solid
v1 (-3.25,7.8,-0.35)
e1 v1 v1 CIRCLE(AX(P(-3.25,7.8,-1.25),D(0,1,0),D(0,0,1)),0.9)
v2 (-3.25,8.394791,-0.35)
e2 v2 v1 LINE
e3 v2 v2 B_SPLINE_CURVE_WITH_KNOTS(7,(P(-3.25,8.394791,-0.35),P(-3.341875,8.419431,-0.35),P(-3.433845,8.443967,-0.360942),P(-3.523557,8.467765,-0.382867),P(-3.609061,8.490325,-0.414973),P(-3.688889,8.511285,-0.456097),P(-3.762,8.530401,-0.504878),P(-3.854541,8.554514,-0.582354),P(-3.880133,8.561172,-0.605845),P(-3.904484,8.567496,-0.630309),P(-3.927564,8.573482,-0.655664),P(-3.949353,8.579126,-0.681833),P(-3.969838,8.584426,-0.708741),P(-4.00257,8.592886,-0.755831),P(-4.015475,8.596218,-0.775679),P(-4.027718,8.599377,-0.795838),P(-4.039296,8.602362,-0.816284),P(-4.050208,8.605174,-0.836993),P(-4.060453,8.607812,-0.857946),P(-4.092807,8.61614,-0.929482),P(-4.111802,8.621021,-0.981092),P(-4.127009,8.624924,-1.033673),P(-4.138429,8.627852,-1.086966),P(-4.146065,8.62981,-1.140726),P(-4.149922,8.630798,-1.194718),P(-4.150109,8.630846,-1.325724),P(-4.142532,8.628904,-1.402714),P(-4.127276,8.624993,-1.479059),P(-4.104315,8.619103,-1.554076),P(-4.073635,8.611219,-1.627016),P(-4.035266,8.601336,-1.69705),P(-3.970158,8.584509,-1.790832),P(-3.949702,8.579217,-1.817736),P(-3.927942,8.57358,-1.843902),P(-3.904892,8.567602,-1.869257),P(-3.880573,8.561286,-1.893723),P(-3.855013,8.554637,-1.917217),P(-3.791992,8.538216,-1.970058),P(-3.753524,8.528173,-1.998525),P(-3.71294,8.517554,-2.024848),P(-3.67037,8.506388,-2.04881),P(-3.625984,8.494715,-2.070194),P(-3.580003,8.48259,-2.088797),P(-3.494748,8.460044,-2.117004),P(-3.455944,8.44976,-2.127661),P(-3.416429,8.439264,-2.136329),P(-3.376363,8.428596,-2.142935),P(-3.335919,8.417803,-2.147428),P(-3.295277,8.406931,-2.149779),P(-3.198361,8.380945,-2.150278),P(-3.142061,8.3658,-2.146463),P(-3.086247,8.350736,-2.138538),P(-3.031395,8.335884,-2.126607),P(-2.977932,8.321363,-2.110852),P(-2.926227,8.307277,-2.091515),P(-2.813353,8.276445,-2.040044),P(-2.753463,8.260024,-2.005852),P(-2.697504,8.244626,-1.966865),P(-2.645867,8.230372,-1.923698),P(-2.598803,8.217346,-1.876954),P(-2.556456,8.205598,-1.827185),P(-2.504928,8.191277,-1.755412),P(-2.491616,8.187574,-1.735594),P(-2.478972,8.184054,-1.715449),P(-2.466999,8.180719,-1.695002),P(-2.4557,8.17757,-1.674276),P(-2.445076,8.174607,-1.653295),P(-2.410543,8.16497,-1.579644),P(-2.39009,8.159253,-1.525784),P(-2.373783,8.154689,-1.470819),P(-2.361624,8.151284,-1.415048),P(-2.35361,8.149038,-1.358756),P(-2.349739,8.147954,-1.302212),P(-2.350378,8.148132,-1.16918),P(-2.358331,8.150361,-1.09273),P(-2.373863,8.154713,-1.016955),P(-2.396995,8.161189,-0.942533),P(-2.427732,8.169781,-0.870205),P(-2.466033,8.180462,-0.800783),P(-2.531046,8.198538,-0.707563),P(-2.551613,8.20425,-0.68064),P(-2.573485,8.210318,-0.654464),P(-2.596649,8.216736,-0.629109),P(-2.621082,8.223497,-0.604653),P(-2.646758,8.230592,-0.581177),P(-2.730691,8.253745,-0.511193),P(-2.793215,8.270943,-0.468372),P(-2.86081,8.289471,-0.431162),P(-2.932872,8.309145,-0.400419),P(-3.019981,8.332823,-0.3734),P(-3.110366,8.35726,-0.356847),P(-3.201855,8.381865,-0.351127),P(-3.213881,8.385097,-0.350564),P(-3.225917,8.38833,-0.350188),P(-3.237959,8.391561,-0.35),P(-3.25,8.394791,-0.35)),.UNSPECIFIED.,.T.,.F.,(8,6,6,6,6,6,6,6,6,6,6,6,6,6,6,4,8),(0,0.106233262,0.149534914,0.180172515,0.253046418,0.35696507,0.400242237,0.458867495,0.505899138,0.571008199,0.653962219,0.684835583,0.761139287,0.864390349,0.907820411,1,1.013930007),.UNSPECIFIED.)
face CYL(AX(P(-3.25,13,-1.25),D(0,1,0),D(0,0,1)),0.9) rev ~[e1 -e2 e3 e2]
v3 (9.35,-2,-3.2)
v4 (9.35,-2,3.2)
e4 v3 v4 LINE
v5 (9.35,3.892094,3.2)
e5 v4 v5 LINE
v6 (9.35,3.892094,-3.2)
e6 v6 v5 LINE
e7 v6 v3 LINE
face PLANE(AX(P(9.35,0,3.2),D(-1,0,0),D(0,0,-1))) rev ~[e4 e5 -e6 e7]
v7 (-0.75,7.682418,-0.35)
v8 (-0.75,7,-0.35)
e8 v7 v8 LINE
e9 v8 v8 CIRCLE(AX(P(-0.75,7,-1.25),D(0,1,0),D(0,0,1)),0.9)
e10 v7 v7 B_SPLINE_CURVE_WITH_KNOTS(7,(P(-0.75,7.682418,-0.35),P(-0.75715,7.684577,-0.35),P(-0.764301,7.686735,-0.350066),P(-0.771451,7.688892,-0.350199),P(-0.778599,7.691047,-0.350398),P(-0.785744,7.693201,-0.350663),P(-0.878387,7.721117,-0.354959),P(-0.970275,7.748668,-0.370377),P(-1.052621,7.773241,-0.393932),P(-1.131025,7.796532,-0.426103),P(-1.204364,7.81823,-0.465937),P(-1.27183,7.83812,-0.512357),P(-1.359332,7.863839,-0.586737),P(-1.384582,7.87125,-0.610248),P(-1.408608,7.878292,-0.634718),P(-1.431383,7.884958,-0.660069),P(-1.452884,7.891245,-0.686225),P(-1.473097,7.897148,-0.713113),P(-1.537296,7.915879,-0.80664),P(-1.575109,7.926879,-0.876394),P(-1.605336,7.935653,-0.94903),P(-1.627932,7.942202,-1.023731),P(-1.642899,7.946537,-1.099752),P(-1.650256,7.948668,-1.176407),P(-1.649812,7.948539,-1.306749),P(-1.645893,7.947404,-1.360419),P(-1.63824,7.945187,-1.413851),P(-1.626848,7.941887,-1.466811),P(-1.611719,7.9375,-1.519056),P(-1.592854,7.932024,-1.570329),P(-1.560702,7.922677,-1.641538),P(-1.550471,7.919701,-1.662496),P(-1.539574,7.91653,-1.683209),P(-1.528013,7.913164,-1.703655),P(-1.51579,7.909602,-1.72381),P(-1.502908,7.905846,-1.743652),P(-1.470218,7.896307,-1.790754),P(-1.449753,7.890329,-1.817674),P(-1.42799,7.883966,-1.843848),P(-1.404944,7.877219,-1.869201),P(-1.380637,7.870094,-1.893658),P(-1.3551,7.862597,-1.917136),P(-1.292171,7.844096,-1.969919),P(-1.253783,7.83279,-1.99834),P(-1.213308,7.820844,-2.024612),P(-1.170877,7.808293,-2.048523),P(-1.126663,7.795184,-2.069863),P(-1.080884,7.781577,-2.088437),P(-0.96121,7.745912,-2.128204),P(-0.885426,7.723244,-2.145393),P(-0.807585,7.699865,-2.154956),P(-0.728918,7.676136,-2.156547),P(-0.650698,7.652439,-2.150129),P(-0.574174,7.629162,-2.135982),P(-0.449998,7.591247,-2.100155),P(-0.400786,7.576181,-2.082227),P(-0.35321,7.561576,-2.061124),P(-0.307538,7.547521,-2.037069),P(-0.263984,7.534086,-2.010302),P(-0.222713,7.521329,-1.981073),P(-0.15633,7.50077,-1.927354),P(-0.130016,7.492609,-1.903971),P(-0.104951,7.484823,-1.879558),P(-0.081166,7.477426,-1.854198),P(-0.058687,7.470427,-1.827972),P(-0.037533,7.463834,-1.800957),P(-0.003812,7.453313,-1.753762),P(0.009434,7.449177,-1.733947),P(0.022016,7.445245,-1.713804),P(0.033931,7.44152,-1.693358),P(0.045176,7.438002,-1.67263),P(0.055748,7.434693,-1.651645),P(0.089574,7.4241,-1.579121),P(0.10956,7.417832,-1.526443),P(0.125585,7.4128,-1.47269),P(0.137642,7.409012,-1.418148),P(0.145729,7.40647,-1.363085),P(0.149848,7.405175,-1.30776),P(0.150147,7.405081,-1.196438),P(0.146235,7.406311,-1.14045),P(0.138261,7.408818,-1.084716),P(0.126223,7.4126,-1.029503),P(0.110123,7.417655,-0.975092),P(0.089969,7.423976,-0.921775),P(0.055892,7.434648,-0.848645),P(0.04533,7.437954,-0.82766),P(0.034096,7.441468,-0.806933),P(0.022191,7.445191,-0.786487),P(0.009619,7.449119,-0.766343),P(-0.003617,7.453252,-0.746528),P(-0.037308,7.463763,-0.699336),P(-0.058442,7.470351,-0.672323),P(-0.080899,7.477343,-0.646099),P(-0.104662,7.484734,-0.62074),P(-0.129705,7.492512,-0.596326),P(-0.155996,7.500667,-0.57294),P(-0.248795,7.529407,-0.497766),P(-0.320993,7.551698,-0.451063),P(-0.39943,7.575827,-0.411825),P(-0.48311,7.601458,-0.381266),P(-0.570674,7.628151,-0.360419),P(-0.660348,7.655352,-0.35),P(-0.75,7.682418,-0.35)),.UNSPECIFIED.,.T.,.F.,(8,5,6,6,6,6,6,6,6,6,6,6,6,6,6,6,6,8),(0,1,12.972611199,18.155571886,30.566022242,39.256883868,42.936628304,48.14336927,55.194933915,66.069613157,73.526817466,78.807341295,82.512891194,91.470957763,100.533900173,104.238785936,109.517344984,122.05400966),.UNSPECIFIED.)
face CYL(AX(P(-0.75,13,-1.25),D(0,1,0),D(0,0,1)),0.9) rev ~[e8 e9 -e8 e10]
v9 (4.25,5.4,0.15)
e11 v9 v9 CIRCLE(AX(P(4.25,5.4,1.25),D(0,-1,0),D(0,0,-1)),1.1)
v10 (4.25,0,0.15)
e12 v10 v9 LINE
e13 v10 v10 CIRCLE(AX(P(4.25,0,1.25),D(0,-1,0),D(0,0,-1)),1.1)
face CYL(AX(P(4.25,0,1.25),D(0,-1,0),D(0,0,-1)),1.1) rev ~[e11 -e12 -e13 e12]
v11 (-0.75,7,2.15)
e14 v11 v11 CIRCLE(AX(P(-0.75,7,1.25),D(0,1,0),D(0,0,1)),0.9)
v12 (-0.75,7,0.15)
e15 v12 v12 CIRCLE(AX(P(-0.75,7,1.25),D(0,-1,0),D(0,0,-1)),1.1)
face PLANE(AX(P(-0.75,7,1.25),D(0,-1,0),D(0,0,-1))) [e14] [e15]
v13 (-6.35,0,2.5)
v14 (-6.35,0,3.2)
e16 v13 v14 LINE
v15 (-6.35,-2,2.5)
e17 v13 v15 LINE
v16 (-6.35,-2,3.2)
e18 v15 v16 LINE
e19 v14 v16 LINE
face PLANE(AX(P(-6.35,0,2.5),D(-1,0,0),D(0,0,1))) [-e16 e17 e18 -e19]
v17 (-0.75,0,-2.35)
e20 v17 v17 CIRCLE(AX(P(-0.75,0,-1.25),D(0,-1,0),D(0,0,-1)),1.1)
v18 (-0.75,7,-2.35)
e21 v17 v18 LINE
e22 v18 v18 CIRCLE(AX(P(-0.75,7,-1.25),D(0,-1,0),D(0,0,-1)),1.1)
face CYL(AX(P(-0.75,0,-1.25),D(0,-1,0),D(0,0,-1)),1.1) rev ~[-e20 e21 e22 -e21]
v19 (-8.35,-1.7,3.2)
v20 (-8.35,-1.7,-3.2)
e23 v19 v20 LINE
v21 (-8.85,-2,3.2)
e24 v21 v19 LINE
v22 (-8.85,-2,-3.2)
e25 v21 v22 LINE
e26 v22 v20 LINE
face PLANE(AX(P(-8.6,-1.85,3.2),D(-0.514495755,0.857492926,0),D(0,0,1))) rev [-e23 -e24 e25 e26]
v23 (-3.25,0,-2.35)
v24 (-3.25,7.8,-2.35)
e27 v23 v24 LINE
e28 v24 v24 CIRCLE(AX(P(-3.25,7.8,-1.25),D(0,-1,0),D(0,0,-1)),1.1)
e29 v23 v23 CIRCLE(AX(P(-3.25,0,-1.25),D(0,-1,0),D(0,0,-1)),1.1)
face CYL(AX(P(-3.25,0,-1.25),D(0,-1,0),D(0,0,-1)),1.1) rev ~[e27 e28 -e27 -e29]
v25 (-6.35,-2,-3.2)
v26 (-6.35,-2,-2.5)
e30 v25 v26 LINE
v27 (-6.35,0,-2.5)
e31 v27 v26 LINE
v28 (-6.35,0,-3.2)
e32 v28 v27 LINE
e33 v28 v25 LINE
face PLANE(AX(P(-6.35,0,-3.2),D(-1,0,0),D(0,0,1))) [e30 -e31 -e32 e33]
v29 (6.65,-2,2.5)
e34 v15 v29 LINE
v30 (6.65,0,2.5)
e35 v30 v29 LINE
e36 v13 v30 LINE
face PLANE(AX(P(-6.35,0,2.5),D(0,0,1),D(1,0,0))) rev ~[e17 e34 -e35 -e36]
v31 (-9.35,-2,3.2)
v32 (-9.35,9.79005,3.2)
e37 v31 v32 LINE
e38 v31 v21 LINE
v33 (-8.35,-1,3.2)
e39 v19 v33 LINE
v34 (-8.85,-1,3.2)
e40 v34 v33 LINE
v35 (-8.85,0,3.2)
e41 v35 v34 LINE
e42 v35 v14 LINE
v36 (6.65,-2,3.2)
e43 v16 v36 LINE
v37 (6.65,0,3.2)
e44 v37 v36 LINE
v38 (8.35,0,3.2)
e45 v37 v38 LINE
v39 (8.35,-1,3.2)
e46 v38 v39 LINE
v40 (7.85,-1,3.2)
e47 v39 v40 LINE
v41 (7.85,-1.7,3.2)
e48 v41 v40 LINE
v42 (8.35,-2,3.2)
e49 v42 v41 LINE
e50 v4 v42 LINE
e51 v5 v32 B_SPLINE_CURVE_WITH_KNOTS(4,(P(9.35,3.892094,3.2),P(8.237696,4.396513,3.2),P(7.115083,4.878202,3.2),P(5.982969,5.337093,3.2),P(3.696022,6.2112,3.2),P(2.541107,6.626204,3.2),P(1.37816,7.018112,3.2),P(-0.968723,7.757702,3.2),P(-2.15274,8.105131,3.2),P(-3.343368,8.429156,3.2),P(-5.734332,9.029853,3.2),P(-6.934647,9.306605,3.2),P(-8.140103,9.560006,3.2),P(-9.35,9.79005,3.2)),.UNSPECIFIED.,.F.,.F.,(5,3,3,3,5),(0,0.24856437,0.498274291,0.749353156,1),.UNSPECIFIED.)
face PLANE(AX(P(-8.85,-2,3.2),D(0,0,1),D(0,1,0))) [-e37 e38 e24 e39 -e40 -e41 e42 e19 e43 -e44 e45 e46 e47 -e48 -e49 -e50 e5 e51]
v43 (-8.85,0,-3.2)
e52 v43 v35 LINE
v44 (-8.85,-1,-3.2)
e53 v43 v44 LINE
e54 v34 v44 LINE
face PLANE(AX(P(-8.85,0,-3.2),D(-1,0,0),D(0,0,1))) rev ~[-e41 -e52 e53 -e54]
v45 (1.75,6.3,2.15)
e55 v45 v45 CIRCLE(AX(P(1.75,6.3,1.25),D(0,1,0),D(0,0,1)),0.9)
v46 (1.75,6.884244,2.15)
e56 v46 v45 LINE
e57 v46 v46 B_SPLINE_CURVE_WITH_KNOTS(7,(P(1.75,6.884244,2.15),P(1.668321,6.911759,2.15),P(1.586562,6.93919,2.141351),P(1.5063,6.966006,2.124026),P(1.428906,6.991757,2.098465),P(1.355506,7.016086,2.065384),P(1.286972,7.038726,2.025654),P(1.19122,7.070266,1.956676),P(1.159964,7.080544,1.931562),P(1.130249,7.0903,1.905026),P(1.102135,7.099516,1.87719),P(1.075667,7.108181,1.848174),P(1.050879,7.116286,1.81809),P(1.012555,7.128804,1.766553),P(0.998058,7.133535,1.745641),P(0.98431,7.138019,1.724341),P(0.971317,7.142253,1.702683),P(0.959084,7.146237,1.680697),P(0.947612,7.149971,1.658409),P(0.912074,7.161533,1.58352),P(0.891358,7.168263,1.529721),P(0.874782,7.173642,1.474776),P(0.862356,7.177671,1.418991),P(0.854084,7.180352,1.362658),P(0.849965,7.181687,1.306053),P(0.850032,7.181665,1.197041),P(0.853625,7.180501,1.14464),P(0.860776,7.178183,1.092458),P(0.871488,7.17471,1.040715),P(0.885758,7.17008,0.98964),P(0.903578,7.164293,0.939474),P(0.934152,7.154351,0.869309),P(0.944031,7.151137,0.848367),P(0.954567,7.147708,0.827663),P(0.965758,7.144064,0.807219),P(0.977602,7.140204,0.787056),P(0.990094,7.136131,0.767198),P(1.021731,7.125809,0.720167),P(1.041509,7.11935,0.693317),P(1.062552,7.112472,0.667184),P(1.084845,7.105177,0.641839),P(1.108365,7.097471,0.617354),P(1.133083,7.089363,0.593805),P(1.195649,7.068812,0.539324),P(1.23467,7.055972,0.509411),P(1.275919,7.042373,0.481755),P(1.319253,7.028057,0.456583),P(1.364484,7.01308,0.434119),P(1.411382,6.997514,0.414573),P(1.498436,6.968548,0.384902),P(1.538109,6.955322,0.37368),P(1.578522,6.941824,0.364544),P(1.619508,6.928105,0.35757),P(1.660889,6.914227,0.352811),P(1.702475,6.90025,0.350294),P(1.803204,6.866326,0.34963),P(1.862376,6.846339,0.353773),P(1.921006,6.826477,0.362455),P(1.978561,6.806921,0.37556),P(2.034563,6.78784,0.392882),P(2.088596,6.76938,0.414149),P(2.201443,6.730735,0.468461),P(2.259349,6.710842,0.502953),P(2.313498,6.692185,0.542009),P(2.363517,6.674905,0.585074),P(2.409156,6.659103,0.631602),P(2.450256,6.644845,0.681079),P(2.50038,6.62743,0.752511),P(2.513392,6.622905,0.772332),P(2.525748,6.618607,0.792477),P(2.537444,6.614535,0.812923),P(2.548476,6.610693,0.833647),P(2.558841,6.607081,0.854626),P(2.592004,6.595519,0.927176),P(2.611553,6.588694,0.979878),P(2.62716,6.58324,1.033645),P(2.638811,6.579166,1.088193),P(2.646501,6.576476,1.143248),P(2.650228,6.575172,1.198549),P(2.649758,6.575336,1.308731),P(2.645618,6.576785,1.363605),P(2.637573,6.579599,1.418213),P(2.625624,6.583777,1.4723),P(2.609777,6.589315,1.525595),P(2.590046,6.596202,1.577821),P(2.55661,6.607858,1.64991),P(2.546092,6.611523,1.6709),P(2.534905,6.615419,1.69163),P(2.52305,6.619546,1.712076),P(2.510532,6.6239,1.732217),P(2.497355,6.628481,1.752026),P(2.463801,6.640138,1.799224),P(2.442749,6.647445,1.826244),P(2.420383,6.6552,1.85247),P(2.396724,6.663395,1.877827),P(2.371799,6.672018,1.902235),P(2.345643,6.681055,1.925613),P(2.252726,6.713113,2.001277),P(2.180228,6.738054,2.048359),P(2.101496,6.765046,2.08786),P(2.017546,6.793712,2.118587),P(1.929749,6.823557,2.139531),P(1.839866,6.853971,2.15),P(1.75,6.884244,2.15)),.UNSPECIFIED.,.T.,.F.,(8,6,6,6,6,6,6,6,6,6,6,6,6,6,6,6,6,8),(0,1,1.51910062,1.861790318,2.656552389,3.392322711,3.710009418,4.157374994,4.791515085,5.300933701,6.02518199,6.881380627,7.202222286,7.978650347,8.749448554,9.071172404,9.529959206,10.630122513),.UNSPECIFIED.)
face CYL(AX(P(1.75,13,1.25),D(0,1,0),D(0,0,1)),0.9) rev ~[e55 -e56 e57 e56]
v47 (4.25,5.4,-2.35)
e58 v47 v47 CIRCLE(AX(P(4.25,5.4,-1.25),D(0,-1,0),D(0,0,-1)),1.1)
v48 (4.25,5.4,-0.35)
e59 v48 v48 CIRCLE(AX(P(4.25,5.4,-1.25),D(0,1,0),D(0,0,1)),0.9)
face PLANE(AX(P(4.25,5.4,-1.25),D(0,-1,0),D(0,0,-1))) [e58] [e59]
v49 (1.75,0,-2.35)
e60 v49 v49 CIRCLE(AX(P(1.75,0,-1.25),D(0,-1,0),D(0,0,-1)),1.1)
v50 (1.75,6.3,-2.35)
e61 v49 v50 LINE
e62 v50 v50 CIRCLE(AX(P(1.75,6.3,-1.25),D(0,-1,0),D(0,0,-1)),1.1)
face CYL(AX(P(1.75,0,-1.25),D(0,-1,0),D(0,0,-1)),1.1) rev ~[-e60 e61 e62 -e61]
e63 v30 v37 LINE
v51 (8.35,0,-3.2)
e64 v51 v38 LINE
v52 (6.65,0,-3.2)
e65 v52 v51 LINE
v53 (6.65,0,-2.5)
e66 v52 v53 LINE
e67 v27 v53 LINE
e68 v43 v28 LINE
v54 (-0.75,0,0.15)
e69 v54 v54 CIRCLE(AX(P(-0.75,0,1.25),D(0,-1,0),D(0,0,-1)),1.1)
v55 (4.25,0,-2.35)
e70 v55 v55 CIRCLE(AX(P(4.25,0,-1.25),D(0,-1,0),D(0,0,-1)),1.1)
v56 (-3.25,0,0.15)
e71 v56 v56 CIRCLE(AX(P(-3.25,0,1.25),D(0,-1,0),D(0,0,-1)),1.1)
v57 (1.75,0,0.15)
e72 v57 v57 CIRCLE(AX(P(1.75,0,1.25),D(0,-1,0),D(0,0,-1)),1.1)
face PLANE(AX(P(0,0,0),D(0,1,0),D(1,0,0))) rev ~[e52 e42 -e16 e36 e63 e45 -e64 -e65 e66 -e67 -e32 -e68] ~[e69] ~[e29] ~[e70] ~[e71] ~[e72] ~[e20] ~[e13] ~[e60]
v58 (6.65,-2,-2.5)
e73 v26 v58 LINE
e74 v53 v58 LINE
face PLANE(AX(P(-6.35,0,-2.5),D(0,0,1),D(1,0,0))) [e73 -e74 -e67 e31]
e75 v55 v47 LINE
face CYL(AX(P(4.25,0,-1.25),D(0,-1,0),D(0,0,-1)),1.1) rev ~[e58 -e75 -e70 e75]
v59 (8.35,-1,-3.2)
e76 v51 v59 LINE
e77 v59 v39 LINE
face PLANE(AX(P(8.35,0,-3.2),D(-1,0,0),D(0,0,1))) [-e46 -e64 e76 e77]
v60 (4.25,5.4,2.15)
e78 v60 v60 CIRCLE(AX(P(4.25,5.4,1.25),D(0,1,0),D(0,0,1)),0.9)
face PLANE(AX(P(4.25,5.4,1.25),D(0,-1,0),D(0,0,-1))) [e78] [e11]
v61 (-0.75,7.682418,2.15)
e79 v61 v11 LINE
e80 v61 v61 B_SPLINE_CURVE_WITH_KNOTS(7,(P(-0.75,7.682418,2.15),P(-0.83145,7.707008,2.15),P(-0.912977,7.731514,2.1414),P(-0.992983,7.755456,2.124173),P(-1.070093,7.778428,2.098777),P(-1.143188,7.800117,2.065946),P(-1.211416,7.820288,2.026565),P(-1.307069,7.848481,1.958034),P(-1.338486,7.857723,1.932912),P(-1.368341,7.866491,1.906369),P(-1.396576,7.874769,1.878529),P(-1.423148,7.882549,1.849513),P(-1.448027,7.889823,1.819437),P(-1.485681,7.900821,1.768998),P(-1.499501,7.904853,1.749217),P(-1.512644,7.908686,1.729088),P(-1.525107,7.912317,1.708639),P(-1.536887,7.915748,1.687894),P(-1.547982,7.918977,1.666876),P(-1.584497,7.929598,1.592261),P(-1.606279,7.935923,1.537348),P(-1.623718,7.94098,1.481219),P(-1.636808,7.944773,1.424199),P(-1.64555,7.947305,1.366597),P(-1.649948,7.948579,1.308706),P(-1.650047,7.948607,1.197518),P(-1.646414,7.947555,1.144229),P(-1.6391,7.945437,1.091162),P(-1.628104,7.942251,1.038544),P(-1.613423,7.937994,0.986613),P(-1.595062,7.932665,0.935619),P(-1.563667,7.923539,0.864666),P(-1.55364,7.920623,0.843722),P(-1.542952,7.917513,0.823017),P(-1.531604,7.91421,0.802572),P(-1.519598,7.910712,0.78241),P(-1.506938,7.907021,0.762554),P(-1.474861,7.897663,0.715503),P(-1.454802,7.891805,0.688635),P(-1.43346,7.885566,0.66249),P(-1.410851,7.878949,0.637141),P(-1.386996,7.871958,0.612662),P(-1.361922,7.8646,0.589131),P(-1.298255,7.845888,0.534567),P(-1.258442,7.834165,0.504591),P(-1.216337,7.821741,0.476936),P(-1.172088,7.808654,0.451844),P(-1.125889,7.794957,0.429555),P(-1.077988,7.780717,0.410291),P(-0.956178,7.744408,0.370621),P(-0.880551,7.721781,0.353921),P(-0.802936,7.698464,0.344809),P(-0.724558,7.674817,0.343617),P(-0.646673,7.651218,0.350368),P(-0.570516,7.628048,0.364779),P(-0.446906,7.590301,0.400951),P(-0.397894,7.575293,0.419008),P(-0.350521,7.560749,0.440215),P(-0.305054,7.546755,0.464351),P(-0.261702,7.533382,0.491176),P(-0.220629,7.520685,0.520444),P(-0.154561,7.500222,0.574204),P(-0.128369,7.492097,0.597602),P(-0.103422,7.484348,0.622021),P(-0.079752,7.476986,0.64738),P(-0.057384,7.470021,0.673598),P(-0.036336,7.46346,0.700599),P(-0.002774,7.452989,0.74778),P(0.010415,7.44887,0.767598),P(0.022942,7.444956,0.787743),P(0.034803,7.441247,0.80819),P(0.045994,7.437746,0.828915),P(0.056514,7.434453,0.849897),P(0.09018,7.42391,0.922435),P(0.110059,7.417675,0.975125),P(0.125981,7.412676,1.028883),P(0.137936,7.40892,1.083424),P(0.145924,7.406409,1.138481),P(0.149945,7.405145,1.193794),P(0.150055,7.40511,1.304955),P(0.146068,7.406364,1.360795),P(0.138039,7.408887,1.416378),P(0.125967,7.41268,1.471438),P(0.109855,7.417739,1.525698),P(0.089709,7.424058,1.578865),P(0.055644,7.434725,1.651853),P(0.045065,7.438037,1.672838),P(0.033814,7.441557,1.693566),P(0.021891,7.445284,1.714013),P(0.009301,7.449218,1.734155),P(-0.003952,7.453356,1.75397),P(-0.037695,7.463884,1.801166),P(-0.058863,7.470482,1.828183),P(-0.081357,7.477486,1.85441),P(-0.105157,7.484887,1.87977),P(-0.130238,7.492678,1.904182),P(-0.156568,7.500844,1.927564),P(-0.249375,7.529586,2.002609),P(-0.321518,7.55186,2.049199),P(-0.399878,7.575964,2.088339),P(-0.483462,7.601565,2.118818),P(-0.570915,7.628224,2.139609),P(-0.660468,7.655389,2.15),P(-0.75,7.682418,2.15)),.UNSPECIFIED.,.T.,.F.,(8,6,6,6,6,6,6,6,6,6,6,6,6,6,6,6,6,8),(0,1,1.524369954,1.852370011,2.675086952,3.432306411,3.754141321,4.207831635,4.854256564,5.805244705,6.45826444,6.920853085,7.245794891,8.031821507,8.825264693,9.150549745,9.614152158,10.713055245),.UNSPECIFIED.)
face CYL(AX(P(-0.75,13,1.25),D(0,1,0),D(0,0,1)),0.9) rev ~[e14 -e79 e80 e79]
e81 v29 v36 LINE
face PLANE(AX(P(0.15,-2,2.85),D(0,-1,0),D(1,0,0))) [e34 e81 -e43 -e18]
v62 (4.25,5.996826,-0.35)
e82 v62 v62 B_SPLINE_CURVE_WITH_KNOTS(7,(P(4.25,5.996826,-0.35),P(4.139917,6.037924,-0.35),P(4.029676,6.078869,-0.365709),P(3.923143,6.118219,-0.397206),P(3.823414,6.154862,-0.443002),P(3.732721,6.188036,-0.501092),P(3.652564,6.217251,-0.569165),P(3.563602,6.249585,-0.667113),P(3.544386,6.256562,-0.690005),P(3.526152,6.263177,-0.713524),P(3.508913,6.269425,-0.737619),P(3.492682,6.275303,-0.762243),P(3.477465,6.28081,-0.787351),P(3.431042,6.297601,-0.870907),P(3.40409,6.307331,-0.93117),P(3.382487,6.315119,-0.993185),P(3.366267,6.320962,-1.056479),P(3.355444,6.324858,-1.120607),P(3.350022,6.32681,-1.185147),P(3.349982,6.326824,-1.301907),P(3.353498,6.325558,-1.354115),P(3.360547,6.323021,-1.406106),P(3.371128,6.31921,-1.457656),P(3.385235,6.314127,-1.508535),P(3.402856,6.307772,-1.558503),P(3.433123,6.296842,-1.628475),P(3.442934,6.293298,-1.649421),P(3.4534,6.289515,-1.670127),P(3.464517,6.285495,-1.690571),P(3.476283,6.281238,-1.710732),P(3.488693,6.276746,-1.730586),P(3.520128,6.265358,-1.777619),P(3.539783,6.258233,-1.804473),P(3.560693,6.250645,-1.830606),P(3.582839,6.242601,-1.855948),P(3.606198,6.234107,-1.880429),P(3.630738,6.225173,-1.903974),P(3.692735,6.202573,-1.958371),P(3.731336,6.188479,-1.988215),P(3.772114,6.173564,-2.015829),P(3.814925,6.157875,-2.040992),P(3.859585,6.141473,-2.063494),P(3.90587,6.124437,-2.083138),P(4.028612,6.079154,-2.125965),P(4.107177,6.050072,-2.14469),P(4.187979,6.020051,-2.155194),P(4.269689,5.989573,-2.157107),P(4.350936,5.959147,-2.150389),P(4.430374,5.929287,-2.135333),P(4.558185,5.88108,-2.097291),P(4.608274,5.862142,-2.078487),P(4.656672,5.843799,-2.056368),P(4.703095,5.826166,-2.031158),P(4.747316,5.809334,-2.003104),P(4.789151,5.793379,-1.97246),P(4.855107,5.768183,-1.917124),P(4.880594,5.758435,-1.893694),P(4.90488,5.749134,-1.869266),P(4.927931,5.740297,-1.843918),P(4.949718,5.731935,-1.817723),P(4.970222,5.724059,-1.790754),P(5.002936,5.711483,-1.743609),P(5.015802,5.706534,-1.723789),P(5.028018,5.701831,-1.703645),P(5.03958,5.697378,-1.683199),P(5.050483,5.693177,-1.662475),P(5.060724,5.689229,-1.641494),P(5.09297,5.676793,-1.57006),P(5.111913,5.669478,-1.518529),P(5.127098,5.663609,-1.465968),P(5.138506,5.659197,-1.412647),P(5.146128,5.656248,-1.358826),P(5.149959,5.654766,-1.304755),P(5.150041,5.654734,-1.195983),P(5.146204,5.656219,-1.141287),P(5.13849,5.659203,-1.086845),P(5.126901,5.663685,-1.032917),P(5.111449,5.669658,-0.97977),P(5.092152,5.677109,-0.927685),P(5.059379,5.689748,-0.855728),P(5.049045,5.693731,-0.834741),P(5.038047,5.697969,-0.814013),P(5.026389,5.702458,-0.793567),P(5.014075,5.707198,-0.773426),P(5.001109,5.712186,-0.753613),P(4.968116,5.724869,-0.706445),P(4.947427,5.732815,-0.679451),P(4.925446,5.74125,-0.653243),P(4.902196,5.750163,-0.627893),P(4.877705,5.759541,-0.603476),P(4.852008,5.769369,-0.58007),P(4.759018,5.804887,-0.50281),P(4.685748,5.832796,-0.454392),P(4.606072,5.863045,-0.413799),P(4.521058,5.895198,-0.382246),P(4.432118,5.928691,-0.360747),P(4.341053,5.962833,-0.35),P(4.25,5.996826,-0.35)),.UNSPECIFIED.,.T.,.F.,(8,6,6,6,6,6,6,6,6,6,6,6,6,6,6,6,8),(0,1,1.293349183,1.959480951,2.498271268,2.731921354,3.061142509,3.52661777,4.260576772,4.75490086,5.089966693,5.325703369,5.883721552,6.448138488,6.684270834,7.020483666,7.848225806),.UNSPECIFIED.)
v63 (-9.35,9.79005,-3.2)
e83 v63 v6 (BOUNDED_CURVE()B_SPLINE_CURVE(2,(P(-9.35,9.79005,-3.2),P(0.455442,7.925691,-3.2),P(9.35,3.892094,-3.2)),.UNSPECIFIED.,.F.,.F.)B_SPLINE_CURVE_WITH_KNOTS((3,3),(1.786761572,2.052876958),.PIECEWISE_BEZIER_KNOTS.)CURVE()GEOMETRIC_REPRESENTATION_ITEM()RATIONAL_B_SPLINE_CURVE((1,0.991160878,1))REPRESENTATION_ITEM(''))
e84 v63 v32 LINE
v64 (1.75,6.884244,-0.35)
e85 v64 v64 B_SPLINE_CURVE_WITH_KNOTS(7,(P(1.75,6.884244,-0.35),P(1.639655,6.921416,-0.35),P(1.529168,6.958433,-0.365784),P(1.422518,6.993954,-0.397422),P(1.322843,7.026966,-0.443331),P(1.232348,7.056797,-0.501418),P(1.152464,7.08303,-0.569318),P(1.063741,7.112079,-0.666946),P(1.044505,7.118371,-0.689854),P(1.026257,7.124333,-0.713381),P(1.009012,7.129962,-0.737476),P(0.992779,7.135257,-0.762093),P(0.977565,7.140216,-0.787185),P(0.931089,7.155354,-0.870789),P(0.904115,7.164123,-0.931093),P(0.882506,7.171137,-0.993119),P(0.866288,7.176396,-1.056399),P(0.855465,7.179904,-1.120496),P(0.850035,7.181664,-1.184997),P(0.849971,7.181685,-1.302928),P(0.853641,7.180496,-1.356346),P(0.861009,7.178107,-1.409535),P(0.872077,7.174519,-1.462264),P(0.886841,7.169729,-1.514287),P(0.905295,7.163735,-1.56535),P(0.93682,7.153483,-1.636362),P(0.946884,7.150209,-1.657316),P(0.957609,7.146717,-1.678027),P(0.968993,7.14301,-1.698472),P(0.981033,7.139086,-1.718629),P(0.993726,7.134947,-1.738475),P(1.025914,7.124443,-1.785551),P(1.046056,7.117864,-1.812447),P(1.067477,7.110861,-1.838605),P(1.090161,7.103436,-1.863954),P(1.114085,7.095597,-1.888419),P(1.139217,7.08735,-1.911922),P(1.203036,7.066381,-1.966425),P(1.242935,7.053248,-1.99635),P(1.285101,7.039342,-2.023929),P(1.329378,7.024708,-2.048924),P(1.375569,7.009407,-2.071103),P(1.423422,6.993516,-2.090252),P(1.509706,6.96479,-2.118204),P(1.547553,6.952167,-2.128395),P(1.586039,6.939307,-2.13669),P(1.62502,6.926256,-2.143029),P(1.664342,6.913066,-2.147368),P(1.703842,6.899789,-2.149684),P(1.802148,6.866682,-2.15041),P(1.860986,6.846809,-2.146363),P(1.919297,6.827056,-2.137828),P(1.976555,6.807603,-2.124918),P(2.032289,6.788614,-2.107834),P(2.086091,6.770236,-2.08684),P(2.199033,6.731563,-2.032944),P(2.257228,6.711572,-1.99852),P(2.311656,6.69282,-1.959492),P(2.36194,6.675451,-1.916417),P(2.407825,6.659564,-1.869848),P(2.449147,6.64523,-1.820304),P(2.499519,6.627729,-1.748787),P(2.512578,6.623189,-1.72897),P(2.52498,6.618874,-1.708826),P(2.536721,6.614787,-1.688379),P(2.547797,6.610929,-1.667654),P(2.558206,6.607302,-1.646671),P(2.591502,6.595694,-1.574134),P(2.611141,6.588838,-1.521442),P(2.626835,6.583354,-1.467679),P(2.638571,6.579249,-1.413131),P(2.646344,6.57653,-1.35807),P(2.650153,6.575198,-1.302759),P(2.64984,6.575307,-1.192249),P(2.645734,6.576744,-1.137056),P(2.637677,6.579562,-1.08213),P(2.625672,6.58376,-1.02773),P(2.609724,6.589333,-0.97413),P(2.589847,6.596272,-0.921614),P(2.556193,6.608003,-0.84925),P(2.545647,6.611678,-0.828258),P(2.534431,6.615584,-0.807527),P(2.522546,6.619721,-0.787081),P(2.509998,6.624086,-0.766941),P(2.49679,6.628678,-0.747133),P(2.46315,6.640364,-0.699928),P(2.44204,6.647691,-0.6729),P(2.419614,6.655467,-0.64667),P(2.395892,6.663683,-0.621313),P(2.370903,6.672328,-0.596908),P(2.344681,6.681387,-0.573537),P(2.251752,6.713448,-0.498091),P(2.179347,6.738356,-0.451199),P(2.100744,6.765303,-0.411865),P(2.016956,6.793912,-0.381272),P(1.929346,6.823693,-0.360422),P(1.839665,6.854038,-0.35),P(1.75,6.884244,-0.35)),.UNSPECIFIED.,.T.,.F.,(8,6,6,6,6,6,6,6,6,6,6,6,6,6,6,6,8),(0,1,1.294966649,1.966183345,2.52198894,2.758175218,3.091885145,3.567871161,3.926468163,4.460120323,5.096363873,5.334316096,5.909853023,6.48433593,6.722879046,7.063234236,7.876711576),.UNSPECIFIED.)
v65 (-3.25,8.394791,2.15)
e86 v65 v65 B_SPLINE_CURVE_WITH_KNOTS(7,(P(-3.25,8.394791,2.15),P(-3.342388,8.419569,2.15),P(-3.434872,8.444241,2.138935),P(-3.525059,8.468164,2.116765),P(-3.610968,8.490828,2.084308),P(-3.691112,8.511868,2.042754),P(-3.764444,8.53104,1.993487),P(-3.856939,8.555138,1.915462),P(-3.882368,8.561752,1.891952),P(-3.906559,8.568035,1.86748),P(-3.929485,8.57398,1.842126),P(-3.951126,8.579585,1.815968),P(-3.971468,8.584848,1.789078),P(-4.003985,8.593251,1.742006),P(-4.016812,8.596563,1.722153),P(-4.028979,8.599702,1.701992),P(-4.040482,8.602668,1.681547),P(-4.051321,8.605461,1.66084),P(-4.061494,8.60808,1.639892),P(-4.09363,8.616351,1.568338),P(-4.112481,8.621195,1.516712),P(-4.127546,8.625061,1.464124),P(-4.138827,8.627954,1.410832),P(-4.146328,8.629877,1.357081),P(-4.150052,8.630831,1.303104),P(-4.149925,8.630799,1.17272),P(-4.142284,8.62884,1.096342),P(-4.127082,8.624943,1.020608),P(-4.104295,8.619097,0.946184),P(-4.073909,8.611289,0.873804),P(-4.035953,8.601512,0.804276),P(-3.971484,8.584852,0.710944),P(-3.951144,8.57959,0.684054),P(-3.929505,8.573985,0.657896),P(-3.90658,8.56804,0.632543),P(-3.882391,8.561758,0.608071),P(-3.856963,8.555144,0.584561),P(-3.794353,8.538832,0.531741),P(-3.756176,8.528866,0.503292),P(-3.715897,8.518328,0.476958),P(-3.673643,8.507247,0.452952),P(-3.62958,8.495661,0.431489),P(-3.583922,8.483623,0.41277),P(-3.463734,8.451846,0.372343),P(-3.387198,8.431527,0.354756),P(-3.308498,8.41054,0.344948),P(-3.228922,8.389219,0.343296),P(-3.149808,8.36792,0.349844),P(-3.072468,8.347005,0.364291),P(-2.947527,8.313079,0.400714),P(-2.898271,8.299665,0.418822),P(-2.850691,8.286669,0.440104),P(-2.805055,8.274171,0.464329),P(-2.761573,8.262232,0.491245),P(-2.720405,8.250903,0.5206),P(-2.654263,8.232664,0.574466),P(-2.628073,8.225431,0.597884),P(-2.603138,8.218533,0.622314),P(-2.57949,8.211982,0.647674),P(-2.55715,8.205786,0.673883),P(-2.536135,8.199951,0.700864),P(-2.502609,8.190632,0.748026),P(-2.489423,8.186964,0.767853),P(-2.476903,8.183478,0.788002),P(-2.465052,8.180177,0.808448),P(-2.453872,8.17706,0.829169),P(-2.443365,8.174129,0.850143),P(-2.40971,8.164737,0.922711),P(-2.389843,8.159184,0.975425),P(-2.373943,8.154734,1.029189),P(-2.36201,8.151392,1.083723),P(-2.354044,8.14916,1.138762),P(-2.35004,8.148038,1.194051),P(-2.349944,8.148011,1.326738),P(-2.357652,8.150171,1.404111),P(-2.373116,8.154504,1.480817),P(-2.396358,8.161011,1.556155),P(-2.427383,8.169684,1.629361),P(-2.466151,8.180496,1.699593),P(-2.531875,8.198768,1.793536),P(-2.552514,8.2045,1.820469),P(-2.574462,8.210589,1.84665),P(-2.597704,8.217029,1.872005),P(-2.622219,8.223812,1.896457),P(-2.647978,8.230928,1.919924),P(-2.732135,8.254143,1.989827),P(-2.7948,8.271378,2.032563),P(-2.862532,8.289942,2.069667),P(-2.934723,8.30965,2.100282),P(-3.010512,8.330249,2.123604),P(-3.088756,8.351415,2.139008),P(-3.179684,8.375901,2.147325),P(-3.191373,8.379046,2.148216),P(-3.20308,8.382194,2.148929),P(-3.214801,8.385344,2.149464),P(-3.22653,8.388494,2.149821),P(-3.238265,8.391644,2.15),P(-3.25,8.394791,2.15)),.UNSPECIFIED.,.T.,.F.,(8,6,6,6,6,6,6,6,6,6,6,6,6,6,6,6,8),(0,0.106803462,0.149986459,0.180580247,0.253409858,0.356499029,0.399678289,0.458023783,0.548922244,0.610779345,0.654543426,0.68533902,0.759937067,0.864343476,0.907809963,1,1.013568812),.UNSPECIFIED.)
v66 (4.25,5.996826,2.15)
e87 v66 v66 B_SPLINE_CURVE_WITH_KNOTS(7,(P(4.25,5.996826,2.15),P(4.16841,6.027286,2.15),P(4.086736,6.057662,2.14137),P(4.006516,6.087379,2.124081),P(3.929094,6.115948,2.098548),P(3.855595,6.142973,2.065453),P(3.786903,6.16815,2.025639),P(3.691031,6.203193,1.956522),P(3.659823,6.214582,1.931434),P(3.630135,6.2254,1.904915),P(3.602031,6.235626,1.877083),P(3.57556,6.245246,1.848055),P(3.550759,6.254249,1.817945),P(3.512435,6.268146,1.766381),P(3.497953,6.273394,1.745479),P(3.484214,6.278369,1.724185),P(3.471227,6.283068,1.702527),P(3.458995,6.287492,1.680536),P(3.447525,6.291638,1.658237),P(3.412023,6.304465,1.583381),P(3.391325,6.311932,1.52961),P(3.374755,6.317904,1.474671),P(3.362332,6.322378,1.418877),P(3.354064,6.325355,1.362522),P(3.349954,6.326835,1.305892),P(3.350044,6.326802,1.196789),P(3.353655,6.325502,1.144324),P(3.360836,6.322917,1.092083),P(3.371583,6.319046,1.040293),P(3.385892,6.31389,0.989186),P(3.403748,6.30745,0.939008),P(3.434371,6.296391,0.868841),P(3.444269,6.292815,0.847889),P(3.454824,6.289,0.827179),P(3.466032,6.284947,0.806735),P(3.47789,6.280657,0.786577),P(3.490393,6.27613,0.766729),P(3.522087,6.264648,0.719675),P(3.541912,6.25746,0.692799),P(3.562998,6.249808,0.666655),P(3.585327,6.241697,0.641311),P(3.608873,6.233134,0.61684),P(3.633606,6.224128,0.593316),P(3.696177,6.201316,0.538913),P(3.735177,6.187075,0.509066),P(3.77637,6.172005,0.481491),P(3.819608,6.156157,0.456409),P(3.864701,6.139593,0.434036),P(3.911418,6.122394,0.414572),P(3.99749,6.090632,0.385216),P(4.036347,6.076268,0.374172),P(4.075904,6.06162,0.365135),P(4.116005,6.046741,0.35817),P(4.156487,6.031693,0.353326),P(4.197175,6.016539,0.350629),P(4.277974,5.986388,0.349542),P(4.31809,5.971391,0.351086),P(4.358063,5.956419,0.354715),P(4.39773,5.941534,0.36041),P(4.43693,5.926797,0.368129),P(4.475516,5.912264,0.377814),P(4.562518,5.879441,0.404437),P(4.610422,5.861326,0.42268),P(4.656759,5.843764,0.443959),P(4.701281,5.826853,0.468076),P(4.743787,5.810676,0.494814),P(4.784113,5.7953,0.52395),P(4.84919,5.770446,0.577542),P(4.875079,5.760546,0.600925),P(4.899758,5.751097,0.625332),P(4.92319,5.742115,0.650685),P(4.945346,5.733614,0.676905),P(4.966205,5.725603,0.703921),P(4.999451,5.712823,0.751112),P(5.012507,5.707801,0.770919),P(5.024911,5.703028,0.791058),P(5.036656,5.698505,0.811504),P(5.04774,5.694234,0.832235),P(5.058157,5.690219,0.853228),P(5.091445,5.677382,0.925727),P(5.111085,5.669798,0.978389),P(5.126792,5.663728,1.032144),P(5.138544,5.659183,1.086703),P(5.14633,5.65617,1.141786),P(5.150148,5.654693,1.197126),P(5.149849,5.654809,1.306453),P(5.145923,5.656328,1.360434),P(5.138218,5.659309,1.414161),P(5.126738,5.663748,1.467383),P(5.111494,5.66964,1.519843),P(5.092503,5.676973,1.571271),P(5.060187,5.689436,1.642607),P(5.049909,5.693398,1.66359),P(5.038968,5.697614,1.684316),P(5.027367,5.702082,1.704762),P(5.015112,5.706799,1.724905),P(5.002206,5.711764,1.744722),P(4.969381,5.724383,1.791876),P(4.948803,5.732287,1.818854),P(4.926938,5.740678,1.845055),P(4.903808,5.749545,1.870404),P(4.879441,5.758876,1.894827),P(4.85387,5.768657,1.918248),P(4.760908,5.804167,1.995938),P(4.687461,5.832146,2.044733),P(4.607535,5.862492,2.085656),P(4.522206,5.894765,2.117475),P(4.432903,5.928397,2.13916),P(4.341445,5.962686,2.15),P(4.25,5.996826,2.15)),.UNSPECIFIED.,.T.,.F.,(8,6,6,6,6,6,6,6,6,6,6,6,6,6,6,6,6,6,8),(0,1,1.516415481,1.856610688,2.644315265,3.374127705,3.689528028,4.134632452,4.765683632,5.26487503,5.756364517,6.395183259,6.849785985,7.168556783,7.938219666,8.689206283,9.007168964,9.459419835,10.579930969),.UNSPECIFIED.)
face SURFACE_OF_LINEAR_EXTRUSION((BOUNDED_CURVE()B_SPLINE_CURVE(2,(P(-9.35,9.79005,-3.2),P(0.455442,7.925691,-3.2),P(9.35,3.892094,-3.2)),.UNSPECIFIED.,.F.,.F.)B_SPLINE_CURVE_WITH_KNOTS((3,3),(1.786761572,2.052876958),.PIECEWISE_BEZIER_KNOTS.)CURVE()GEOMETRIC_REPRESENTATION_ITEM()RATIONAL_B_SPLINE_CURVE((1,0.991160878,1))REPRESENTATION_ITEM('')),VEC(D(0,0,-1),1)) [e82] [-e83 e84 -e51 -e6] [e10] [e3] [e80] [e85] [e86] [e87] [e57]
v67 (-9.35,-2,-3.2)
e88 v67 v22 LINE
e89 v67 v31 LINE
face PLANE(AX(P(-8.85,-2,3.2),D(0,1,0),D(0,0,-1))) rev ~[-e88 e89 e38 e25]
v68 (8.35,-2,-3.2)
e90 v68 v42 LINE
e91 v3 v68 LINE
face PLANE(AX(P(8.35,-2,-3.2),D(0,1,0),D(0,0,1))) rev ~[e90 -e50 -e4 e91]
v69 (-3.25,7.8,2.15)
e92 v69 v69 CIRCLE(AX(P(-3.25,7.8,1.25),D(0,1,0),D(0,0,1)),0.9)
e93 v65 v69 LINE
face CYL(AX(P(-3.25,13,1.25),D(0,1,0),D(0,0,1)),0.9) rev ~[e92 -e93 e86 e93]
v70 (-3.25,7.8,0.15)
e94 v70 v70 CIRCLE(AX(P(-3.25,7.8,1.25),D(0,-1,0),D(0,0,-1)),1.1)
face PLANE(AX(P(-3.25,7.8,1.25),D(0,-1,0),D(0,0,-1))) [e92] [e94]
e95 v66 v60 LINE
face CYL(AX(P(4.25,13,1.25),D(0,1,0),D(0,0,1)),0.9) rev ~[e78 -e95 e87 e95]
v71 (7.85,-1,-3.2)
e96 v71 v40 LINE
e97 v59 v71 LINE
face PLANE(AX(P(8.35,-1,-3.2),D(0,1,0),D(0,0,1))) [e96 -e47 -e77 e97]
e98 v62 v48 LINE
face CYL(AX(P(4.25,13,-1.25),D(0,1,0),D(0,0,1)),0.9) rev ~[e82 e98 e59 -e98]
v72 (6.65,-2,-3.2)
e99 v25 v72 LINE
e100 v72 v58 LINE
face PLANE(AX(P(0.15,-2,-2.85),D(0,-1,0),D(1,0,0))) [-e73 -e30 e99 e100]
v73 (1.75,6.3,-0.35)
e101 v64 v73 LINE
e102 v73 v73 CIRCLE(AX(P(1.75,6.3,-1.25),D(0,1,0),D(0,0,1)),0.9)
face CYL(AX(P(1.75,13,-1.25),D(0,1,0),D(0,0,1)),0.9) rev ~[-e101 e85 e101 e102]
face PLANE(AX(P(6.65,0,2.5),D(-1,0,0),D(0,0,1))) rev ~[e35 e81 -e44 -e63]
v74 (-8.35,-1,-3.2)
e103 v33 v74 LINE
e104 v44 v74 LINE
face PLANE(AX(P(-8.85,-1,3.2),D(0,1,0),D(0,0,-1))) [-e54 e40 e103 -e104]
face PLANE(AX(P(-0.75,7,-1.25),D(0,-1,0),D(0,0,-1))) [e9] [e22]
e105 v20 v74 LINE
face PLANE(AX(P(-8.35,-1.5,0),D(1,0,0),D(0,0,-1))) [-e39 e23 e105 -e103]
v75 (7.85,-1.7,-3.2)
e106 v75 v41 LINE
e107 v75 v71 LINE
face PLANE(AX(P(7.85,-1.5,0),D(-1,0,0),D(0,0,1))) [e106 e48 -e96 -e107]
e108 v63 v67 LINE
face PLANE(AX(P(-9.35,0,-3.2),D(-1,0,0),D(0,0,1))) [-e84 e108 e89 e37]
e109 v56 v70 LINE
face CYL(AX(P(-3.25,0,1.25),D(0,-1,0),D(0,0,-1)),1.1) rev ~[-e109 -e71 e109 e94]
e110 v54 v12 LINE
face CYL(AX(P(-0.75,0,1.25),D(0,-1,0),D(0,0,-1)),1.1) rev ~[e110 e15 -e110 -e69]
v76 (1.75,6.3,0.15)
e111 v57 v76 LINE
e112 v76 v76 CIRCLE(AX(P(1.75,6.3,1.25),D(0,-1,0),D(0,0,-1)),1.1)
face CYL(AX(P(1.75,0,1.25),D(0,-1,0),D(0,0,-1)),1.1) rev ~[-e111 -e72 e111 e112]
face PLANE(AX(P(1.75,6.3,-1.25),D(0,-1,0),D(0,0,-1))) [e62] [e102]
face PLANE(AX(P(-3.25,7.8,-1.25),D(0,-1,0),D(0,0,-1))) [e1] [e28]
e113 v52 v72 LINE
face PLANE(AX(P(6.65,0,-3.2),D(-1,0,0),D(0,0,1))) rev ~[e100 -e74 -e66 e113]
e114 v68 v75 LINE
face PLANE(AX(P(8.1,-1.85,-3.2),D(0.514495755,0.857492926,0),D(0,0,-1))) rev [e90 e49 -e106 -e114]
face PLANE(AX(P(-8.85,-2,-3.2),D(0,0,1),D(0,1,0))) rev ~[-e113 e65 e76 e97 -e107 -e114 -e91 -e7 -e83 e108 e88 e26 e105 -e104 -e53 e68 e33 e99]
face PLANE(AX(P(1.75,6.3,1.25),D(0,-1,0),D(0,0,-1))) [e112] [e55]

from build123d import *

# Parameters (mm, degrees)
SKETCH1_W             = 18.7
SKETCH1_H             = 6.4
BOSS_EXTRUDE1_DEPTH   = 13
SKETCH2_W             = 13
SKETCH2_H             = 0.7
SKETCH2_W_2           = 0.5
SKETCH2_H_2           = 6.4
SKETCH2_W_3           = 1
BOSS_EXTRUDE2_DEPTH   = 2
CUT_EXTRUDE1_REACH    = 17
SKETCH3_R             = 0.9
CUT_EXTRUDE2_REACH    = 8.4
SKETCH5_R             = 1.1
CUT_EXTRUDE3_DEPTH    = 5.4
SKETCH6_R             = 1.1
CUT_EXTRUDE4_DEPTH    = 6.3
SKETCH7_R             = 1.1
CUT_EXTRUDE5_DEPTH    = 7
SKETCH8_R             = 1.1
CUT_EXTRUDE6_DEPTH    = 7.8
SKETCH10_W            = 6.4
SKETCH10_H            = 1
BOSS_EXTRUDE3_DEPTH   = 0.5
SKETCH11_W            = 6.4
SKETCH11_H            = 1
BOSS_EXTRUDE4_DEPTH   = 0.5
CHAMFER1_SIZE         = 0.5
CHAMFER1_SIZE2        = 0.3
CHAMFER1_PART_2_SIZE  = 0.5
CHAMFER1_PART_2_SIZE2 = 0.3


with BuildPart() as part:
    # Sketch1 → Boss-Extrude1 (new body)
    with BuildSketch(Plane(origin=(0, 0, 0), x_dir=(1, 0, 0), z_dir=(0, 1, 0))):
        Rectangle(SKETCH1_W, SKETCH1_H)
    extrude(amount=BOSS_EXTRUDE1_DEPTH)

    # Sketch2 → Boss-Extrude2 (add)
    with BuildSketch(Plane.XZ):
        with Locations((0.15, 2.85)):
            Rectangle(SKETCH2_W, SKETCH2_H)
        with Locations((0.15, -2.85)):
            Rectangle(SKETCH2_W, SKETCH2_H)
        with Locations((-9.1, 0)):
            Rectangle(SKETCH2_W_2, SKETCH2_H_2)
        with Locations((8.85, 0)):
            Rectangle(SKETCH2_W_3, SKETCH2_H_2)
    extrude(amount=BOSS_EXTRUDE2_DEPTH)

    # Sketch3 → Cut-Extrude1 (cut, up to next)
    with BuildSketch(Plane(origin=(0, 13, 0), x_dir=(1, 0, 0), z_dir=(0, 1, 0)), mode=Mode.PRIVATE) as cut_extrude1_sk1:
        with Locations(Location((4.25, -1.25, 0), (0, 0, 270))):  # turned: the seam where the file's is
            Circle(SKETCH3_R)
    cut_extrude1_tool1 = extrude(cut_extrude1_sk1.sketch, amount=-CUT_EXTRUDE1_REACH, mode=Mode.PRIVATE) & part.part
    add(cut_extrude1_tool1.solids().sort_by_distance((4.25, 13, 1.25))[0], mode=Mode.SUBTRACT)
    # Sketch3 → Cut-Extrude1 (cut, up to next)
    with BuildSketch(Plane(origin=(0, 13, 0), x_dir=(1, 0, 0), z_dir=(0, 1, 0)), mode=Mode.PRIVATE) as cut_extrude1_sk2:
        with Locations(Location((1.75, -1.25, 0), (0, 0, 270))):  # turned: the seam where the file's is
            Circle(SKETCH3_R)
    cut_extrude1_tool2 = extrude(cut_extrude1_sk2.sketch, amount=-CUT_EXTRUDE1_REACH, mode=Mode.PRIVATE) & part.part
    add(cut_extrude1_tool2.solids().sort_by_distance((1.75, 13, 1.25))[0], mode=Mode.SUBTRACT)
    # Sketch3 → Cut-Extrude1 (cut, up to next)
    with BuildSketch(Plane(origin=(0, 13, 0), x_dir=(1, 0, 0), z_dir=(0, 1, 0)), mode=Mode.PRIVATE) as cut_extrude1_sk3:
        with Locations(Location((-0.75, -1.25, 0), (0, 0, 270))):  # turned: the seam where the file's is
            Circle(SKETCH3_R)
    cut_extrude1_tool3 = extrude(cut_extrude1_sk3.sketch, amount=-CUT_EXTRUDE1_REACH, mode=Mode.PRIVATE) & part.part
    add(cut_extrude1_tool3.solids().sort_by_distance((-0.75, 13, 1.25))[0], mode=Mode.SUBTRACT)
    # Sketch3 → Cut-Extrude1 (cut, up to next)
    with BuildSketch(Plane(origin=(0, 13, 0), x_dir=(1, 0, 0), z_dir=(0, 1, 0)), mode=Mode.PRIVATE) as cut_extrude1_sk4:
        with Locations(Location((-3.25, -1.25, 0), (0, 0, 270))):  # turned: the seam where the file's is
            Circle(SKETCH3_R)
    cut_extrude1_tool4 = extrude(cut_extrude1_sk4.sketch, amount=-CUT_EXTRUDE1_REACH, mode=Mode.PRIVATE) & part.part
    add(cut_extrude1_tool4.solids().sort_by_distance((-3.25, 13, 1.25))[0], mode=Mode.SUBTRACT)
    # Sketch3 → Cut-Extrude1 (cut, up to next)
    with BuildSketch(Plane(origin=(0, 13, 0), x_dir=(1, 0, 0), z_dir=(0, 1, 0)), mode=Mode.PRIVATE) as cut_extrude1_sk5:
        with Locations(Location((4.25, 1.25, 0), (0, 0, 270))):  # turned: the seam where the file's is
            Circle(SKETCH3_R)
    cut_extrude1_tool5 = extrude(cut_extrude1_sk5.sketch, amount=-CUT_EXTRUDE1_REACH, mode=Mode.PRIVATE) & part.part
    add(cut_extrude1_tool5.solids().sort_by_distance((4.25, 13, -1.25))[0], mode=Mode.SUBTRACT)
    # Sketch3 → Cut-Extrude1 (cut, up to next)
    with BuildSketch(Plane(origin=(0, 13, 0), x_dir=(1, 0, 0), z_dir=(0, 1, 0)), mode=Mode.PRIVATE) as cut_extrude1_sk6:
        with Locations(Location((1.75, 1.25, 0), (0, 0, 270))):  # turned: the seam where the file's is
            Circle(SKETCH3_R)
    cut_extrude1_tool6 = extrude(cut_extrude1_sk6.sketch, amount=-CUT_EXTRUDE1_REACH, mode=Mode.PRIVATE) & part.part
    add(cut_extrude1_tool6.solids().sort_by_distance((1.75, 13, -1.25))[0], mode=Mode.SUBTRACT)
    # Sketch3 → Cut-Extrude1 (cut, up to next)
    with BuildSketch(Plane(origin=(0, 13, 0), x_dir=(1, 0, 0), z_dir=(0, 1, 0)), mode=Mode.PRIVATE) as cut_extrude1_sk7:
        with Locations(Location((-0.75, 1.25, 0), (0, 0, 270))):  # turned: the seam where the file's is
            Circle(SKETCH3_R)
    cut_extrude1_tool7 = extrude(cut_extrude1_sk7.sketch, amount=-CUT_EXTRUDE1_REACH, mode=Mode.PRIVATE) & part.part
    add(cut_extrude1_tool7.solids().sort_by_distance((-0.75, 13, -1.25))[0], mode=Mode.SUBTRACT)
    # Sketch3 → Cut-Extrude1 (cut, up to next)
    with BuildSketch(Plane(origin=(0, 13, 0), x_dir=(1, 0, 0), z_dir=(0, 1, 0)), mode=Mode.PRIVATE) as cut_extrude1_sk8:
        with Locations(Location((-3.25, 1.25, 0), (0, 0, 270))):  # turned: the seam where the file's is
            Circle(SKETCH3_R)
    cut_extrude1_tool8 = extrude(cut_extrude1_sk8.sketch, amount=-CUT_EXTRUDE1_REACH, mode=Mode.PRIVATE) & part.part
    add(cut_extrude1_tool8.solids().sort_by_distance((-3.25, 13, -1.25))[0], mode=Mode.SUBTRACT)

    # Sketch4 → Cut-Extrude2 (cut, up to next)
    with BuildSketch(Plane(origin=(0, 0, -3.2), x_dir=(-1, 0, 0), z_dir=(0, 0, -1)), mode=Mode.PRIVATE) as cut_extrude2_sk1:
        with BuildLine():
            Line((-9.35, 13), (9.35, 13))
            Line((9.35, 13), (9.35, 9.790050428))
            add(Edge.make_bspline(
                [(9.35, 9.790050428), (-0.455442008, 7.925691322), (-9.35, 3.892093752)],
                knots=[1.786761572, 1.786761572, 1.786761572, 2.052876958, 2.052876958, 2.052876958], degree=2, weights=[1, 0.991160878, 1]))
            Line((-9.35, 3.892093752), (-9.35, 13))
        make_face()
    cut_extrude2_tool1 = extrude(cut_extrude2_sk1.sketch, amount=-CUT_EXTRUDE2_REACH, mode=Mode.PRIVATE) & part.part
    add(cut_extrude2_tool1.solids().sort_by_distance((1.591729, 9.871634, -3.2))[0], mode=Mode.SUBTRACT)

    # Sketch5 → Cut-Extrude3 (cut)
    with BuildSketch(Plane.XZ):
        with Locations(Location((4.25, -1.25, 0), (0, 0, 270))):  # turned: the seam where the file's is
            Circle(SKETCH5_R)
        with Locations(Location((4.25, 1.25, 0), (0, 0, 270))):  # turned: the seam where the file's is
            Circle(SKETCH5_R)
    extrude(amount=-CUT_EXTRUDE3_DEPTH, mode=Mode.SUBTRACT)

    # Sketch6 → Cut-Extrude4 (cut)
    with BuildSketch(Plane.XZ):
        with Locations(Location((1.75, 1.25, 0), (0, 0, 270))):  # turned: the seam where the file's is
            Circle(SKETCH6_R)
        with Locations(Location((1.75, -1.25, 0), (0, 0, 270))):  # turned: the seam where the file's is
            Circle(SKETCH6_R)
    extrude(amount=-CUT_EXTRUDE4_DEPTH, mode=Mode.SUBTRACT)

    # Sketch7 → Cut-Extrude5 (cut)
    with BuildSketch(Plane.XZ):
        with Locations(Location((-0.75, 1.25, 0), (0, 0, 270))):  # turned: the seam where the file's is
            Circle(SKETCH7_R)
        with Locations(Location((-0.75, -1.25, 0), (0, 0, 270))):  # turned: the seam where the file's is
            Circle(SKETCH7_R)
    extrude(amount=-CUT_EXTRUDE5_DEPTH, mode=Mode.SUBTRACT)

    # Sketch8 → Cut-Extrude6 (cut)
    with BuildSketch(Plane.XZ):
        with Locations(Location((-3.25, 1.25, 0), (0, 0, 270))):  # turned: the seam where the file's is
            Circle(SKETCH8_R)
        with Locations(Location((-3.25, -1.25, 0), (0, 0, 270))):  # turned: the seam where the file's is
            Circle(SKETCH8_R)
    extrude(amount=-CUT_EXTRUDE6_DEPTH, mode=Mode.SUBTRACT)

    # Sketch10 → Boss-Extrude3 (add)
    with BuildSketch(Plane.ZY.offset(-8.35)):
        with Locations((0, -1.5)):
            Rectangle(SKETCH10_W, SKETCH10_H)
    extrude(amount=BOSS_EXTRUDE3_DEPTH)

    # Sketch11 → Boss-Extrude4 (add)
    with BuildSketch(Plane(origin=(-8.85, 0, 0), x_dir=(0, 0, -1), z_dir=(1, 0, 0))):
        with Locations((0, -1.5)):
            Rectangle(SKETCH11_W, SKETCH11_H)
    extrude(amount=BOSS_EXTRUDE4_DEPTH)

    # Chamfer1
    chamfer1_edges = [part.edges().sort_by_distance(p)[0] for p in [
        (7.85, -2, 0),
    ]]
    chamfer1_side = [part.faces().sort_by_distance(p)[0] for p in [
        (8.6, -2, 0),
    ]]
    chamfer(chamfer1_edges, length=CHAMFER1_SIZE, length2=CHAMFER1_SIZE2, reference=chamfer1_side[0])

    # Chamfer1 part 2
    chamfer1_part_2_edges = [part.edges().sort_by_distance(p)[0] for p in [
        (-8.35, -2, 0),
    ]]
    chamfer1_part_2_side = [part.faces().sort_by_distance(p)[0] for p in [
        (-8.85, -2, 0),
    ]]
    chamfer(chamfer1_part_2_edges, length=CHAMFER1_PART_2_SIZE, length2=CHAMFER1_PART_2_SIZE2, reference=chamfer1_part_2_side[0])


solid = part.part
